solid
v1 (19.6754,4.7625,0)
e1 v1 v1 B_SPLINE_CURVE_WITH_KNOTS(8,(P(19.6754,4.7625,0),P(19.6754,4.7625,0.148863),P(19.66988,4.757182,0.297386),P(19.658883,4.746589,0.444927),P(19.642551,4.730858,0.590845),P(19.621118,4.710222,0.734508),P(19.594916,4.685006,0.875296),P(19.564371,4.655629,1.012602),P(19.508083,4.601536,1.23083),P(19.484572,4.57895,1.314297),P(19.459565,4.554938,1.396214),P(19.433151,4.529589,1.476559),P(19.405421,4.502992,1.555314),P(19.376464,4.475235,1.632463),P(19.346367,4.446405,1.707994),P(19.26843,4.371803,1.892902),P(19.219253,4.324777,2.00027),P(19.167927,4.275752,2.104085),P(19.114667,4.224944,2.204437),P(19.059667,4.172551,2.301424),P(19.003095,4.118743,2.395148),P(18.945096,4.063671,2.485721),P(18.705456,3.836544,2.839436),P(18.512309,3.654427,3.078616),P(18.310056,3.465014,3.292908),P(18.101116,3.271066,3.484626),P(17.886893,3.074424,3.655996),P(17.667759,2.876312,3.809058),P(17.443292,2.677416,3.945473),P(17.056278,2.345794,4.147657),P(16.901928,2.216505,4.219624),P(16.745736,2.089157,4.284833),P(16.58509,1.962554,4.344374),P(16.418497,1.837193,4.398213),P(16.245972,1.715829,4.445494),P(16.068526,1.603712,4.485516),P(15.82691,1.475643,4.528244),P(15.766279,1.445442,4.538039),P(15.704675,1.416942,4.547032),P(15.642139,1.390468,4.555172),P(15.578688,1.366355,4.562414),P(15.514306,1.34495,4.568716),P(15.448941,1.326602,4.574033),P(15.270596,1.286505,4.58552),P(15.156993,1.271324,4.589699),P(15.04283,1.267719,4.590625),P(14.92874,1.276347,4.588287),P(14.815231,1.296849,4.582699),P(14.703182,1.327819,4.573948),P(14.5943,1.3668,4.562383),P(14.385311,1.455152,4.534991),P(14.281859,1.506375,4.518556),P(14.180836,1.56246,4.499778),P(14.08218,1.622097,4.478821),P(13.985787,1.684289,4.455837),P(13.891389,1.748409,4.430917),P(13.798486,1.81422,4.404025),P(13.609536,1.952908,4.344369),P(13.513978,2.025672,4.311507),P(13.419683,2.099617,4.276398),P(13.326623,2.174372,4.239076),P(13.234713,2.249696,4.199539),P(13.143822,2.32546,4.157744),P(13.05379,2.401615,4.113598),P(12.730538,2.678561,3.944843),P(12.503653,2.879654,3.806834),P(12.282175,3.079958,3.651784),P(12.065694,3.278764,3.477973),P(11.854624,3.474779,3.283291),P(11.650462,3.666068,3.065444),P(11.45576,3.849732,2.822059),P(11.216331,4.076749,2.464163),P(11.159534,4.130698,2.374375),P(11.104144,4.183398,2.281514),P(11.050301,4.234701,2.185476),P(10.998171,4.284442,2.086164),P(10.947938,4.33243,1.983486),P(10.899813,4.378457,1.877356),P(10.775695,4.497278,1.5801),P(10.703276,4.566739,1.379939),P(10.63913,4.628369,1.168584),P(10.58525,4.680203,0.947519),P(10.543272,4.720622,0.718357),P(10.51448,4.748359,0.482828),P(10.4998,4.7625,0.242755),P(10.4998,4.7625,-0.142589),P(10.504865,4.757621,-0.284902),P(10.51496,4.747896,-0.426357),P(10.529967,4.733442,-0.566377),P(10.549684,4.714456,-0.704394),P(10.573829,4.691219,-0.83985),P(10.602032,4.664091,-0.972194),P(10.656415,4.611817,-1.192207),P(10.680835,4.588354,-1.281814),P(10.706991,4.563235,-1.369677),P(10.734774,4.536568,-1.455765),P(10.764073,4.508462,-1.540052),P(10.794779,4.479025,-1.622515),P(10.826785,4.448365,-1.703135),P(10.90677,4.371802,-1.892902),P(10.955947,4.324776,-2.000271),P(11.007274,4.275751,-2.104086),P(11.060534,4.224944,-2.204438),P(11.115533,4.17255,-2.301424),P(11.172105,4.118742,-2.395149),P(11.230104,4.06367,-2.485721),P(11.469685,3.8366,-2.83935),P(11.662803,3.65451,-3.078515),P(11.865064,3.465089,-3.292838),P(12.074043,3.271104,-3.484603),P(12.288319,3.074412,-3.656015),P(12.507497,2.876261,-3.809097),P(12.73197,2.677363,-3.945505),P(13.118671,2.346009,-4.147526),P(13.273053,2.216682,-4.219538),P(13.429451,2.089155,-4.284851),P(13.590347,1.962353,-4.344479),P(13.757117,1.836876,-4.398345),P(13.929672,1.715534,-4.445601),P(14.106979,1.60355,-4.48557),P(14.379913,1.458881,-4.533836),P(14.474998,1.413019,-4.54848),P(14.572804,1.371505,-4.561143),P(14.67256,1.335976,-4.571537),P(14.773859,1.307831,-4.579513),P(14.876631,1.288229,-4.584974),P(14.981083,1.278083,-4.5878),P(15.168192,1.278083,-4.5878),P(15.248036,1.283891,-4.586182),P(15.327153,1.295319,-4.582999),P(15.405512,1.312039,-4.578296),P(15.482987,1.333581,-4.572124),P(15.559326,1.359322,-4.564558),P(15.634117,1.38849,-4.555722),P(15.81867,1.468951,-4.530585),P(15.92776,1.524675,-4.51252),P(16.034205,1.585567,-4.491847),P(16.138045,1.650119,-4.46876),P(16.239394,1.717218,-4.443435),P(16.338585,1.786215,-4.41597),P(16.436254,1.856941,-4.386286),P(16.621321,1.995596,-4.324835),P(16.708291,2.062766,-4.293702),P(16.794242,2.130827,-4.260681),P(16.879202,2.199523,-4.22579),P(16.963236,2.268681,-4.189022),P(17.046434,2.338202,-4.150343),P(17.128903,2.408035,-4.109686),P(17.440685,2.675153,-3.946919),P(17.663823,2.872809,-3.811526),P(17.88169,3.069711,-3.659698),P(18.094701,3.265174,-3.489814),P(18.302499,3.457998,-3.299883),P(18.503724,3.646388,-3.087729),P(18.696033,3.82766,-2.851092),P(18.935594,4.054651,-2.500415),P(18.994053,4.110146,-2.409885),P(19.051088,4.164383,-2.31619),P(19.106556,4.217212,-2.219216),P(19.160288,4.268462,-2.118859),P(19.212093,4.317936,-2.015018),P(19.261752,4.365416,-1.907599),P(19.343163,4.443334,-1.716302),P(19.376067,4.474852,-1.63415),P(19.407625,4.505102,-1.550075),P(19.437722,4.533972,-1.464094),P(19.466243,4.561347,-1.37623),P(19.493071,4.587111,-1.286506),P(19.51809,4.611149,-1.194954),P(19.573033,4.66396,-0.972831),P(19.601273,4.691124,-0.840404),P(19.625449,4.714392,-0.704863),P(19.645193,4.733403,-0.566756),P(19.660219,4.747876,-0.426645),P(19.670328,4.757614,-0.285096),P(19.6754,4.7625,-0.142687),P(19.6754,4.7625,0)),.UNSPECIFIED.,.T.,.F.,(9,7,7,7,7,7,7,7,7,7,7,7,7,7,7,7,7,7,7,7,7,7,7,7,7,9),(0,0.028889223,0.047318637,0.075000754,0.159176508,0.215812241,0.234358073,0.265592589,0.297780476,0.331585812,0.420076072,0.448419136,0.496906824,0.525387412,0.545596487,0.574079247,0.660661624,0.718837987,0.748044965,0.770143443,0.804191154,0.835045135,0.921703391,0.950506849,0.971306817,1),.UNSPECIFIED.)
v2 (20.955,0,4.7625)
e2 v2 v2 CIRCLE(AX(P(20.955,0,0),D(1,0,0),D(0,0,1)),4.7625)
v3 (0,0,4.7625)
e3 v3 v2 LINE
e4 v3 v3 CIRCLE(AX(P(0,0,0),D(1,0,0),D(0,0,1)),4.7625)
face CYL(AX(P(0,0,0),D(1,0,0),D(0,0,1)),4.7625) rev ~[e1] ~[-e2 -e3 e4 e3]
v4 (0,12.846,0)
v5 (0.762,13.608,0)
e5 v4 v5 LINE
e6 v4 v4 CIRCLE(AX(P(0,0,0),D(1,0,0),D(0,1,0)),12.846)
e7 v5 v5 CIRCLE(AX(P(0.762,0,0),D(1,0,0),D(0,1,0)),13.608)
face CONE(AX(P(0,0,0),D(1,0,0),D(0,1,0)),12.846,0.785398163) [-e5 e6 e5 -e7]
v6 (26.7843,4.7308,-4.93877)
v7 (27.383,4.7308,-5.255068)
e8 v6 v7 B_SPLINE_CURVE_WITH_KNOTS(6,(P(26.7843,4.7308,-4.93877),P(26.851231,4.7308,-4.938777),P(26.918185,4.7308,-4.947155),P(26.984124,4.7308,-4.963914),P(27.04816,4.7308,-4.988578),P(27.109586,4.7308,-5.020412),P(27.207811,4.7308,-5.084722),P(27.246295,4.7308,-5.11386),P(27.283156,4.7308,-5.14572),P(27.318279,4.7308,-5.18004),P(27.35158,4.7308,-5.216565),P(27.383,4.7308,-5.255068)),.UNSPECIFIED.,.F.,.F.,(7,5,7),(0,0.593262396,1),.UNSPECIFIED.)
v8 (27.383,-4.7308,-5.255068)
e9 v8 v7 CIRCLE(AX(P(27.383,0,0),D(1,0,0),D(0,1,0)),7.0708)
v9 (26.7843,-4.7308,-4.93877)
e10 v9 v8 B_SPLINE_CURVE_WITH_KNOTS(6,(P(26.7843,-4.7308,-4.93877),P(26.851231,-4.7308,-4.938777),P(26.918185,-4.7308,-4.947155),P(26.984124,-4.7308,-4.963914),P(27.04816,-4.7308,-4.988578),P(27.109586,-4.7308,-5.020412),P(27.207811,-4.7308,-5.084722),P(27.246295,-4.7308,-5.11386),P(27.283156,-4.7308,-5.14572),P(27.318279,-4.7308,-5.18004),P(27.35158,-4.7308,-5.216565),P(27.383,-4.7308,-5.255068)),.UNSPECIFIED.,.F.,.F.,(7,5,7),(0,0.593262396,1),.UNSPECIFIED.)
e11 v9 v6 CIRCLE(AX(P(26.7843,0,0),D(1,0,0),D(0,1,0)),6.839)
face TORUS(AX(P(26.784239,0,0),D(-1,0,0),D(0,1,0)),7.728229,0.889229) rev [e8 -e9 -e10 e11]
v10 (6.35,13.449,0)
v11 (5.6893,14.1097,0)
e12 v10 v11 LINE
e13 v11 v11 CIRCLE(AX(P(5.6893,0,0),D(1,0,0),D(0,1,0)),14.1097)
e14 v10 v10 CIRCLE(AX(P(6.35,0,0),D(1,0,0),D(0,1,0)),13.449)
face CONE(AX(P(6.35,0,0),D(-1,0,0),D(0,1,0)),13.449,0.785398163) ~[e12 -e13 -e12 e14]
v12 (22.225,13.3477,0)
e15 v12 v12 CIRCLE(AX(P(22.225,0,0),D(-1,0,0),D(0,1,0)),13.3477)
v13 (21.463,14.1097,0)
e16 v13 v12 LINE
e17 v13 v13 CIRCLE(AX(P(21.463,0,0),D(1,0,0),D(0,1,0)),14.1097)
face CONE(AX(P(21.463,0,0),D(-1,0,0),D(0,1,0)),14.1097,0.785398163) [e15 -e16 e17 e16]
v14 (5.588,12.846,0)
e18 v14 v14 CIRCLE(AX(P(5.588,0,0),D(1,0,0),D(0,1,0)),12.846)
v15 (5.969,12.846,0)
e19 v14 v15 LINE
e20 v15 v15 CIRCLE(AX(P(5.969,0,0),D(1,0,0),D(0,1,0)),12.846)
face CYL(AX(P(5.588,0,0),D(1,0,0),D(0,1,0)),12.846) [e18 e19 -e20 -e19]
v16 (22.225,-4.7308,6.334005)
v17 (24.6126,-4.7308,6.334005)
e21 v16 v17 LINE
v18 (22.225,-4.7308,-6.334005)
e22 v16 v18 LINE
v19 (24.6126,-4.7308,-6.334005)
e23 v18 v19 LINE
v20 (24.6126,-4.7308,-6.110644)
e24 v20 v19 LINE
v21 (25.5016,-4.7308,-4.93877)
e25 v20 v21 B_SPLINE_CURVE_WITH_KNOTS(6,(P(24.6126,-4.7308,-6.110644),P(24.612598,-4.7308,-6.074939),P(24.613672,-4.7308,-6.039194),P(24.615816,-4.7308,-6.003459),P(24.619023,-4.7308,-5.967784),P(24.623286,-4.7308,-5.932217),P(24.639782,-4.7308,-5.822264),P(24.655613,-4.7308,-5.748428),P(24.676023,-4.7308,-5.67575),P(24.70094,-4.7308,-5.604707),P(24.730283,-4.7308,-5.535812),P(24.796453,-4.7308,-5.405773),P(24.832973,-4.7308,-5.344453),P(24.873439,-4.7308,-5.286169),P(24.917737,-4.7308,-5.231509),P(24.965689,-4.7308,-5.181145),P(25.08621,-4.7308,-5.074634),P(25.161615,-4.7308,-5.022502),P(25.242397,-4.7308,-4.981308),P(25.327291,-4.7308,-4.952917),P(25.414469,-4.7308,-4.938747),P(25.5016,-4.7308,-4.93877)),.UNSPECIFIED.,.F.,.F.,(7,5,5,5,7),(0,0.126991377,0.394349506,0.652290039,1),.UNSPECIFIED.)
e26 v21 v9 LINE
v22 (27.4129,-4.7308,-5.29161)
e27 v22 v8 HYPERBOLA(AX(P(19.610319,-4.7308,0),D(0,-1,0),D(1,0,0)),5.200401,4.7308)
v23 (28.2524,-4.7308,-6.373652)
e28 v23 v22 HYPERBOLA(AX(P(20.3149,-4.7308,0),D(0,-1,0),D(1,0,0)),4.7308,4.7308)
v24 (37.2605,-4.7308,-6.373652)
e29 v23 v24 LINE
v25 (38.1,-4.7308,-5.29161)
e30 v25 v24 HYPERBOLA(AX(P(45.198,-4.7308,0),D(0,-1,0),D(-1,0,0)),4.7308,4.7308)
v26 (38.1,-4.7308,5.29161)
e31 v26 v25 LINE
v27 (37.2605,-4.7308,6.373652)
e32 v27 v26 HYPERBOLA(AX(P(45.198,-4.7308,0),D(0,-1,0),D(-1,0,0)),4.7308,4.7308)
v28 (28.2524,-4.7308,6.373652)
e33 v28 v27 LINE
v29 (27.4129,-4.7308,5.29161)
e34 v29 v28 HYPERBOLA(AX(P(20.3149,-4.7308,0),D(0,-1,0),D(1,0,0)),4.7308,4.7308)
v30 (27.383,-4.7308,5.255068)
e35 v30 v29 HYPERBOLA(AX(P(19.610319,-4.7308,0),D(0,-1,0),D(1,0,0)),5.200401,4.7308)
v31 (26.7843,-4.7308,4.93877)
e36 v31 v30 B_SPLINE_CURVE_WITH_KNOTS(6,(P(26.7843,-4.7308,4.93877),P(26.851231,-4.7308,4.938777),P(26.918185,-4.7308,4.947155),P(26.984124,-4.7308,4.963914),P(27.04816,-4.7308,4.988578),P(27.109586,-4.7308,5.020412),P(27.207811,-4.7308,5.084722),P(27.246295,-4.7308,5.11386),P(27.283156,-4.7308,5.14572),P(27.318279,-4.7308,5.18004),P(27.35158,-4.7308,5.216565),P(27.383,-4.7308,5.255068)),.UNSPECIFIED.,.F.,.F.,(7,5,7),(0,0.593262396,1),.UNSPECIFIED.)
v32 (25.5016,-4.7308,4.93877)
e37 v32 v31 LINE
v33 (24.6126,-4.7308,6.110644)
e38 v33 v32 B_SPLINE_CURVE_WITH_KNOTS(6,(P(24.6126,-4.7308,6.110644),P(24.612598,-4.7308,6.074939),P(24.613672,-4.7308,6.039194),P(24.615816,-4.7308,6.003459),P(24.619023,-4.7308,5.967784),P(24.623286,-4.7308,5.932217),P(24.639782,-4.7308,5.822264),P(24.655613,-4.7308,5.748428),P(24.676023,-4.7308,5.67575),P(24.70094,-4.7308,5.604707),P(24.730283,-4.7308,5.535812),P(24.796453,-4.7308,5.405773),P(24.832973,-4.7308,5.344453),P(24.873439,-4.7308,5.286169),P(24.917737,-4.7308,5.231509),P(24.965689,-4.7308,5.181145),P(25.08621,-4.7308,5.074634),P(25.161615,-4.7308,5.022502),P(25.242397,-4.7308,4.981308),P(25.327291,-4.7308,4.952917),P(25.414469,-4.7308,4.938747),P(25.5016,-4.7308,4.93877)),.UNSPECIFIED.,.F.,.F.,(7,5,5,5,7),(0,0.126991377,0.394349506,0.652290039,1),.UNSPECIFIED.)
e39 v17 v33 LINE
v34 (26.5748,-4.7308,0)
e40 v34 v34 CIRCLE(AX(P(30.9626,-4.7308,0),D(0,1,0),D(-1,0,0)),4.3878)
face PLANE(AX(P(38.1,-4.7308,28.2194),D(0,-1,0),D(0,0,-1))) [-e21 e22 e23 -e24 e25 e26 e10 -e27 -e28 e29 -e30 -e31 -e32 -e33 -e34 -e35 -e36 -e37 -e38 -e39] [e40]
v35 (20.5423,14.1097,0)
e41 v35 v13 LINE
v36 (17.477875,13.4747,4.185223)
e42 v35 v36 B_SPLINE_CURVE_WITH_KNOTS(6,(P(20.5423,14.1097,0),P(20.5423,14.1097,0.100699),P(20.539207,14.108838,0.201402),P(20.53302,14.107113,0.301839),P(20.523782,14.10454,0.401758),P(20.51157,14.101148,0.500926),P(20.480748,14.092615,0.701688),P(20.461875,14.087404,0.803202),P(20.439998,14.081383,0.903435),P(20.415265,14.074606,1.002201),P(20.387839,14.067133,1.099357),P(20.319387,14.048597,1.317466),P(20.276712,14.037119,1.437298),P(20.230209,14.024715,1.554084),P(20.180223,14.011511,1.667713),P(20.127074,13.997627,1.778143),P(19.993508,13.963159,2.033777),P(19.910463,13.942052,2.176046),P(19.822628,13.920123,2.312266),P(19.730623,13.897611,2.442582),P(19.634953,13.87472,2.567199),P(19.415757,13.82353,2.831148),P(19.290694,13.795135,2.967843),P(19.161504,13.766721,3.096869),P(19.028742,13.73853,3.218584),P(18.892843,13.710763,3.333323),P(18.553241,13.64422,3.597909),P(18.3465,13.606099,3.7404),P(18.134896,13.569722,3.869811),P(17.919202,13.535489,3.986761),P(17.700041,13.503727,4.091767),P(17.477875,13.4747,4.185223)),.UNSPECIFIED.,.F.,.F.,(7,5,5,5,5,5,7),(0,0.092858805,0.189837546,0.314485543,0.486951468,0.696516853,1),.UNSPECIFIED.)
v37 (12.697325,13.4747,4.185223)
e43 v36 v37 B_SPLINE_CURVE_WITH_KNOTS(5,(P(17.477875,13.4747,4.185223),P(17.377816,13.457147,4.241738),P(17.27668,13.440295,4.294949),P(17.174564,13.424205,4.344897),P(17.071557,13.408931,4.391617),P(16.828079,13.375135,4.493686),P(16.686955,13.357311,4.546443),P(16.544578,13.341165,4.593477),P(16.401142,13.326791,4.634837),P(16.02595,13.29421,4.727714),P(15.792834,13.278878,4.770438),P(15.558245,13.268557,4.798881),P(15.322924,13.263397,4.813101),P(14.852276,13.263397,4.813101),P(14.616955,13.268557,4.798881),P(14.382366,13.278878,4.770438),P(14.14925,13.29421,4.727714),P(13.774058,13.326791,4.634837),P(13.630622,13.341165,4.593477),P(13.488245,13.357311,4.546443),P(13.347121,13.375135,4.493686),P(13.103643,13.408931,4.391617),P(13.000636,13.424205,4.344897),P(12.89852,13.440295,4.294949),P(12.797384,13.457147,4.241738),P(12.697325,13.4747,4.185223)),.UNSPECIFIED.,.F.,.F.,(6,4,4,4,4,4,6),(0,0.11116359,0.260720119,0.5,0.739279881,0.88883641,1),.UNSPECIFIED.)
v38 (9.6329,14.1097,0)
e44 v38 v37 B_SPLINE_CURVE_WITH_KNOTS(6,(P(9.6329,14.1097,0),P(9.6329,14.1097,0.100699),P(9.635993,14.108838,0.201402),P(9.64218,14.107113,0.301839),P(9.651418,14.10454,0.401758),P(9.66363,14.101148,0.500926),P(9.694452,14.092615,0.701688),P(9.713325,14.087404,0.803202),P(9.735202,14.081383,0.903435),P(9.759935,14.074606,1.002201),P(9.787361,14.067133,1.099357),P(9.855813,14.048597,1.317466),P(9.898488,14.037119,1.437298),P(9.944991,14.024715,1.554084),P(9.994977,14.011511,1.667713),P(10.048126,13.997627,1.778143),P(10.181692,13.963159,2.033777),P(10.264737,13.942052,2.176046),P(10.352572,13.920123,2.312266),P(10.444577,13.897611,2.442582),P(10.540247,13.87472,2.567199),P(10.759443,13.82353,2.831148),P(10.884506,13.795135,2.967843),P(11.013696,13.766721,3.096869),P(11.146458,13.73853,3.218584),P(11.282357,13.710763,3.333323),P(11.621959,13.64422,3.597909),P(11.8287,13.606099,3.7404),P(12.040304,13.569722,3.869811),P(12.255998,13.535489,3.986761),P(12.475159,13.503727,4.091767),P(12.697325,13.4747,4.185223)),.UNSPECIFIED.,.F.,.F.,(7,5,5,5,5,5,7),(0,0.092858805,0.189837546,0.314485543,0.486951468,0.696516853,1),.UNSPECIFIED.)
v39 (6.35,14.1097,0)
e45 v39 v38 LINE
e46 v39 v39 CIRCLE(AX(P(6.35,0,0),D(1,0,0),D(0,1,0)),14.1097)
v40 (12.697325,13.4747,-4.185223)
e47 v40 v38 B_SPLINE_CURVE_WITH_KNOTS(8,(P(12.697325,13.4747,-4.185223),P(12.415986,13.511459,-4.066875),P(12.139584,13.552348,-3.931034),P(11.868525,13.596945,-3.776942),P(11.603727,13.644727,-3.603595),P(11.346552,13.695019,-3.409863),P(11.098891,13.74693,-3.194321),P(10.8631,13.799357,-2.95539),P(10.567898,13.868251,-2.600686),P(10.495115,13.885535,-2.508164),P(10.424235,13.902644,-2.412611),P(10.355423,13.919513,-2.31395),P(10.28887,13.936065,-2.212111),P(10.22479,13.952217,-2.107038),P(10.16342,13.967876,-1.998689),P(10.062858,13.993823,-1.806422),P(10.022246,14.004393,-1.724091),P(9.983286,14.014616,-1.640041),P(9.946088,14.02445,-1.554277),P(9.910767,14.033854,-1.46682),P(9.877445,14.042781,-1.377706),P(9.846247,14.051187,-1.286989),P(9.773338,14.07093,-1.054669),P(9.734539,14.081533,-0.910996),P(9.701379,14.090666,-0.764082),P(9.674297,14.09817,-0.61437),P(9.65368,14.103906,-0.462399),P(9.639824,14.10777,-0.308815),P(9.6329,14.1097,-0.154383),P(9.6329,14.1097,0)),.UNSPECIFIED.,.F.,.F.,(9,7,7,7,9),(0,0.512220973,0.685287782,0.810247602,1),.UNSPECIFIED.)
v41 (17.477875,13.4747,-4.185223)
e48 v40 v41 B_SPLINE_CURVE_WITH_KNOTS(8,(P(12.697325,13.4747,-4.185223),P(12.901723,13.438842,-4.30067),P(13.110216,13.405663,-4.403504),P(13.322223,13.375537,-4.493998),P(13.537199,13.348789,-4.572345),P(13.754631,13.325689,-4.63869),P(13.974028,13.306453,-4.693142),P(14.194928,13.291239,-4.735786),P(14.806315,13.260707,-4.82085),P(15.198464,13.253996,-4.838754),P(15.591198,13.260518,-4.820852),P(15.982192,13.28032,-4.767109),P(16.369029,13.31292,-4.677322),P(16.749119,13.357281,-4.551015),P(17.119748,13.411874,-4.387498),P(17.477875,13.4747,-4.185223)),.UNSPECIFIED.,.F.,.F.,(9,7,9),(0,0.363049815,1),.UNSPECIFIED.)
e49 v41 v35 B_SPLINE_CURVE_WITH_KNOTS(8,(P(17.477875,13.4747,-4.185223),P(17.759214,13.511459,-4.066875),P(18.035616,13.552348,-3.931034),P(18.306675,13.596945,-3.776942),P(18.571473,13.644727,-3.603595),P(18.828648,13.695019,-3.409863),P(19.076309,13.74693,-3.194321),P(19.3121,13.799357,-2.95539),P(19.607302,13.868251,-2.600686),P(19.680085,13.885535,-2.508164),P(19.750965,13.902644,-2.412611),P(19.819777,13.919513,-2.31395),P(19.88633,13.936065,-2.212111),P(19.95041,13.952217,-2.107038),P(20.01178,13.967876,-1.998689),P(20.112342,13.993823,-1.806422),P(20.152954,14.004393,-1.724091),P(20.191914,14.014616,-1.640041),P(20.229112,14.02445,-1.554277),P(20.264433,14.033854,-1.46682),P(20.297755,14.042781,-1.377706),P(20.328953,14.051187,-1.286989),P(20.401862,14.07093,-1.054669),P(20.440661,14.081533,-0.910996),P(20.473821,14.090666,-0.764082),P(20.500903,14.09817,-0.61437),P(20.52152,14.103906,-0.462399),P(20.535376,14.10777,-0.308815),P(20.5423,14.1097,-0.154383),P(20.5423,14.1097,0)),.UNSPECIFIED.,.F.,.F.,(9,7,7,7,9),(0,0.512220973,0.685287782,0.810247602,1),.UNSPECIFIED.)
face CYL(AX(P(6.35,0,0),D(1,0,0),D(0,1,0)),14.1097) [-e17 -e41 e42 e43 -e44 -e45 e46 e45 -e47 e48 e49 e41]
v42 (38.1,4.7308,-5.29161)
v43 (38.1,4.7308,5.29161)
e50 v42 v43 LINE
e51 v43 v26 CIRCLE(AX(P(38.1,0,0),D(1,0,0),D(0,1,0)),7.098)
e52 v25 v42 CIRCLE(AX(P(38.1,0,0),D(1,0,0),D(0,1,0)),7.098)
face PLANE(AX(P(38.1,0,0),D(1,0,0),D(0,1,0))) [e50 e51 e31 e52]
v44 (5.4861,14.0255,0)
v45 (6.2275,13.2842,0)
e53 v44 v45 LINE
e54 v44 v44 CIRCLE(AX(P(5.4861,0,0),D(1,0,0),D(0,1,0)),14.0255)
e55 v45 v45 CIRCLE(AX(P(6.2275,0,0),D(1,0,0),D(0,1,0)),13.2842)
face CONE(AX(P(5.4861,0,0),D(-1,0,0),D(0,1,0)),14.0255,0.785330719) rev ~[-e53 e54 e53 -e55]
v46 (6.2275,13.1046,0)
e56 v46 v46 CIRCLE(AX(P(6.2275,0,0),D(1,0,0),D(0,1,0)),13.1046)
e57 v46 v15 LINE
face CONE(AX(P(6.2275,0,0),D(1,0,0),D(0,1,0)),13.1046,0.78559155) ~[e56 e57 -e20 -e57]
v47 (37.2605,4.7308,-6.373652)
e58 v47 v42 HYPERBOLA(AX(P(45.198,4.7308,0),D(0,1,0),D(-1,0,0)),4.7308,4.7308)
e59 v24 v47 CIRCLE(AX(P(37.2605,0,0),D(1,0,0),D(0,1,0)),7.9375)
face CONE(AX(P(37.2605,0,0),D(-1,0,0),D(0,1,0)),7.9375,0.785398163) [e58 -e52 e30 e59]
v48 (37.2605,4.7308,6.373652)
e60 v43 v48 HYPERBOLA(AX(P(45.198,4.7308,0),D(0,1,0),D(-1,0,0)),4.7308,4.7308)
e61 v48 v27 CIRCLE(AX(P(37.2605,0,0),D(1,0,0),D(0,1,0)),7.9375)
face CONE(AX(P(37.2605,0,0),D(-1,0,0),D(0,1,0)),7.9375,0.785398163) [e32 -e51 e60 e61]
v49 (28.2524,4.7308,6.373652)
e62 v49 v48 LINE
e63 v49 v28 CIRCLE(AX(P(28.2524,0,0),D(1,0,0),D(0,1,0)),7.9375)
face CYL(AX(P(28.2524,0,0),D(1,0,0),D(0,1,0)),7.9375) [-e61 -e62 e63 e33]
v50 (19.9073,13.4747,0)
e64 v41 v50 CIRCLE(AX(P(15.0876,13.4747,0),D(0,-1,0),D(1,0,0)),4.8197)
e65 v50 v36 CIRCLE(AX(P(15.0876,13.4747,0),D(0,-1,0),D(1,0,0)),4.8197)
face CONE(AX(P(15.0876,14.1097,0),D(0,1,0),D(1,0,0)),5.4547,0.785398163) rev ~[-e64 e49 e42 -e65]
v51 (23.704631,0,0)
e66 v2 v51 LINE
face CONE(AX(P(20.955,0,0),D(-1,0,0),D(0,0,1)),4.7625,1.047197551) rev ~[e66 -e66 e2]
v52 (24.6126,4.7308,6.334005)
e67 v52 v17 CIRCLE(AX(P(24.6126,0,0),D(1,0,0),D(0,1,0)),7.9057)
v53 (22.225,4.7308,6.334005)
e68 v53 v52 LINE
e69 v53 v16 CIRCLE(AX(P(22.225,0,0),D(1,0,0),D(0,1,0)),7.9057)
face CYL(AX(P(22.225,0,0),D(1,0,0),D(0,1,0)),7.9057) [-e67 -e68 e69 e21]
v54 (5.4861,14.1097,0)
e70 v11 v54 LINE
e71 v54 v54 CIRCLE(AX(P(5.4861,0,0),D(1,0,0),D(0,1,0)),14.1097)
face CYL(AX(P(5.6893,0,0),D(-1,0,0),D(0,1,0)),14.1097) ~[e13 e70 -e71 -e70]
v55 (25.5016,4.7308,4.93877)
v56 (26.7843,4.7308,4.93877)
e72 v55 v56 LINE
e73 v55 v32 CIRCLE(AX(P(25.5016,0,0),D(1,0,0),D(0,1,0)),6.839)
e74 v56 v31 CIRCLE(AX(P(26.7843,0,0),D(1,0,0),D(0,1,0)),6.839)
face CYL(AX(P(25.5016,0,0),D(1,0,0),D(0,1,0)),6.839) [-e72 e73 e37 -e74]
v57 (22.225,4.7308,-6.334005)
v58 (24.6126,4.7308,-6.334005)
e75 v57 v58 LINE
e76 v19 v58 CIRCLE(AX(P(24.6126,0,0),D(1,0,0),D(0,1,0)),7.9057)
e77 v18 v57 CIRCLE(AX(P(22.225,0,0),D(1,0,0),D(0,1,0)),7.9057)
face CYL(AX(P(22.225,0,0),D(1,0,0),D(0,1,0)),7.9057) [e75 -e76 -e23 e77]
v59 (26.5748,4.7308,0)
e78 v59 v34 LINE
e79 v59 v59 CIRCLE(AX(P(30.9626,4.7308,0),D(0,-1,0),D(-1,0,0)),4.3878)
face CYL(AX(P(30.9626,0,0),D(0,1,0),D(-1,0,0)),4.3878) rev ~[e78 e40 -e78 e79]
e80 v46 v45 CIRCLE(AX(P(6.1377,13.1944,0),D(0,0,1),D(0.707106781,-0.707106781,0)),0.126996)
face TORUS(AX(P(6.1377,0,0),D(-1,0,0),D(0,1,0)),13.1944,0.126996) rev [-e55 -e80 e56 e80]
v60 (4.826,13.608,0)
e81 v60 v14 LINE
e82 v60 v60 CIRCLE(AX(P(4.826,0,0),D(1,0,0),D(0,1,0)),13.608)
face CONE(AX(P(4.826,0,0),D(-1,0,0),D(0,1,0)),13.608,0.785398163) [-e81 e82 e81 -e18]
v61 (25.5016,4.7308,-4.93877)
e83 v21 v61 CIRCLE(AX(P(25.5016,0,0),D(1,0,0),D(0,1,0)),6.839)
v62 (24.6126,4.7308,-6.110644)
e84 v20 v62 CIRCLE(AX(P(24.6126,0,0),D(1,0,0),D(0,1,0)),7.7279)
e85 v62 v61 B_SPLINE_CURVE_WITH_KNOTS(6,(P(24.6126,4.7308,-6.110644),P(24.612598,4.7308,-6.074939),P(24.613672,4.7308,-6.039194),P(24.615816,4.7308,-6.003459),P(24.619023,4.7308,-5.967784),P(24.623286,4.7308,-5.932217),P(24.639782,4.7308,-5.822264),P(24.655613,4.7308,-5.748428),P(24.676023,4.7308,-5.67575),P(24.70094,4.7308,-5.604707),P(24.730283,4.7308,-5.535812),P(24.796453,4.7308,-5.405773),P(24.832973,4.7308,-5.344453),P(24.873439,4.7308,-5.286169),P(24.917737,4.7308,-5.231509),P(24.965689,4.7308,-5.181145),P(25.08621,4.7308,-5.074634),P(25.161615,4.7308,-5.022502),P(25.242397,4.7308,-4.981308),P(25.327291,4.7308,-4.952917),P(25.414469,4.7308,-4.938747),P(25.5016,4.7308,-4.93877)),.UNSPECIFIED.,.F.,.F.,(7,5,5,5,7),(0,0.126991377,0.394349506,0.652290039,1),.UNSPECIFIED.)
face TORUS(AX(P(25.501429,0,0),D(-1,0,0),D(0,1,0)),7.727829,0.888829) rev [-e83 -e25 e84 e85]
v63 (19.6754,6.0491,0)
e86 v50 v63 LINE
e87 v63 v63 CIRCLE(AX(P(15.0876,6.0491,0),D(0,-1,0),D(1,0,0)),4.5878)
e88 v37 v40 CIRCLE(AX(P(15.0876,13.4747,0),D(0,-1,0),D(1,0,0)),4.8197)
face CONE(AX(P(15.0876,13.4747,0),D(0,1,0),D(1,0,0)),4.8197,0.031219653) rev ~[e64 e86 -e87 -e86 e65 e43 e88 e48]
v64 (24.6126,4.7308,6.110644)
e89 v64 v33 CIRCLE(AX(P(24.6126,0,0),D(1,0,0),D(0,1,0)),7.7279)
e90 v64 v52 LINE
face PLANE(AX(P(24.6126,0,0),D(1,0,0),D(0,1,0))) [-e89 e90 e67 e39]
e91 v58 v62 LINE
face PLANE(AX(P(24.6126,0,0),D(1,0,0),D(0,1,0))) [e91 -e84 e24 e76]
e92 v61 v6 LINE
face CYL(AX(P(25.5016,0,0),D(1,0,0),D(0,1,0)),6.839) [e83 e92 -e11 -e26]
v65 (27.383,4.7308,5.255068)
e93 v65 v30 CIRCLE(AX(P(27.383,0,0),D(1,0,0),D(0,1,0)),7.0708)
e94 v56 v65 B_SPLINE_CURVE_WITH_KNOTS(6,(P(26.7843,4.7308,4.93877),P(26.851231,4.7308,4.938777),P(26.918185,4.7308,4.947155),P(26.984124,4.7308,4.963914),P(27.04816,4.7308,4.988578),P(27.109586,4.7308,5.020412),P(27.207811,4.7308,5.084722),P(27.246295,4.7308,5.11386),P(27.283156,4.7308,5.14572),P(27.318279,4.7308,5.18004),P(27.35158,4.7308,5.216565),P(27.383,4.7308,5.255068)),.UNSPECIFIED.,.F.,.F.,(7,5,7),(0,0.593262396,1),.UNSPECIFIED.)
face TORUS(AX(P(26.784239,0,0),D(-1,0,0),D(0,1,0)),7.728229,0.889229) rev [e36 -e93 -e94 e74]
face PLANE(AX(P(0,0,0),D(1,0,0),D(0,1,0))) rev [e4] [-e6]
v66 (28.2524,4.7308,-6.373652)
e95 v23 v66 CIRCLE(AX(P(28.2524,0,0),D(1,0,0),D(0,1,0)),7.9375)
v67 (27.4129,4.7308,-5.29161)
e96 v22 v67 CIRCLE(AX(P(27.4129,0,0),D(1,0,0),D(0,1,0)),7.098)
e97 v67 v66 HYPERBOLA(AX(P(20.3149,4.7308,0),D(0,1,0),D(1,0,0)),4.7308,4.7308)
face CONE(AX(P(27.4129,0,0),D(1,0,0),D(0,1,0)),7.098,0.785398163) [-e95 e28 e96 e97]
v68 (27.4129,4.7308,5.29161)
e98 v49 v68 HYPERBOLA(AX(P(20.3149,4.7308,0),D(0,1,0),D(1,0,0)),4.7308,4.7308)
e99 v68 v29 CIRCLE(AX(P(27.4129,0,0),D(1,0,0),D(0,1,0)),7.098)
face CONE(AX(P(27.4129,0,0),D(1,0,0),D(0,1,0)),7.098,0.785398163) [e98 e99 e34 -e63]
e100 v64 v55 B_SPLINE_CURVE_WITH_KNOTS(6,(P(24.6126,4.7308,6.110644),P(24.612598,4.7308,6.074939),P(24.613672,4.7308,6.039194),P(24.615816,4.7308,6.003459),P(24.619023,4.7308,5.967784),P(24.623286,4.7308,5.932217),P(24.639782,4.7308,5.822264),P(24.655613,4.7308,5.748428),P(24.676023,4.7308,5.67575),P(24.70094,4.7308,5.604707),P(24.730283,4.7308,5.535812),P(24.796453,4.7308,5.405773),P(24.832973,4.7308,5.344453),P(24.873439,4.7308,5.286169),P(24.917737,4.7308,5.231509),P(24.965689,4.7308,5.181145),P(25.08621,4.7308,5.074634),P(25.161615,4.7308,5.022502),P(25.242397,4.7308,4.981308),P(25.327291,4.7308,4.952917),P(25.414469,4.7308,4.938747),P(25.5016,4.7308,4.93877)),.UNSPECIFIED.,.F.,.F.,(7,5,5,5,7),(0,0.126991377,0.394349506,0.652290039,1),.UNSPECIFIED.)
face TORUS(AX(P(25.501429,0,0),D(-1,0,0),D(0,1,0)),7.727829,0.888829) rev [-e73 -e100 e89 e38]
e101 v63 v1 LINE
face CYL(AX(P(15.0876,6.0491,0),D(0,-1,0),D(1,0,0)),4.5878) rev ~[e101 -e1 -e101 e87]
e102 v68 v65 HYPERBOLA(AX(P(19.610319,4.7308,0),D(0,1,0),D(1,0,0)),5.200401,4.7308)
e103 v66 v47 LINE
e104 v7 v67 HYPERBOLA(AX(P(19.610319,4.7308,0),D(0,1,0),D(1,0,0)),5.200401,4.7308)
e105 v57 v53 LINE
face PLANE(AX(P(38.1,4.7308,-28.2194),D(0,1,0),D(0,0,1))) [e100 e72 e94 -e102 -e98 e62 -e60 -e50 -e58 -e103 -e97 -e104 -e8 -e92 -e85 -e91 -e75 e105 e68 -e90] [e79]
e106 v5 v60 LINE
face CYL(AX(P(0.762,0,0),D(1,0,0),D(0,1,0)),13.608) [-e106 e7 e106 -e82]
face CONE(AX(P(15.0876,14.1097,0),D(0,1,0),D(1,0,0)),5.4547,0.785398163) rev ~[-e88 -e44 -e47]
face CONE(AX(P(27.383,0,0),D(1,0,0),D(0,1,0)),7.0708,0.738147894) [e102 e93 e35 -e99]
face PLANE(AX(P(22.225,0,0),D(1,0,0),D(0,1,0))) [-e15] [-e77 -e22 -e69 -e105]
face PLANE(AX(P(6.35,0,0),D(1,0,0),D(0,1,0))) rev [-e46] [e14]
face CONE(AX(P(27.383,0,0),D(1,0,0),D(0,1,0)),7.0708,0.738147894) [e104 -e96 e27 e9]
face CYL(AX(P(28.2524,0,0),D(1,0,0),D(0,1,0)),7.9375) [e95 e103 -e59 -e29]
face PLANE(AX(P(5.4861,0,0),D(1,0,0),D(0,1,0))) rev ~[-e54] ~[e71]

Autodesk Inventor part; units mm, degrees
sketch "Sketch_18" plane through (0, 0, 0) normal (0, 0, 1) x (1, 0, 0)
  line L0 (22.225, 0) -> (0, 0)
  line L1 (0, 0) -> (0, 12.846)
  line L2 (0, 12.846) -> (0.762, 13.608)
  line L3 (0.762, 13.608) -> (4.826, 13.608)
  line L4 (4.826, 13.608) -> (5.588, 12.846)
  line L5 (5.588, 12.846) -> (6.35, 12.846)
  line L6 (6.35, 12.846) -> (6.35, 14.1097)
  line L7 (6.35, 14.1097) -> (21.463, 14.1097)
  line L8 (21.463, 14.1097) -> (22.225, 13.3477)
  line L9 (22.225, 13.3477) -> (22.225, 0)
  line L10 (22.225, 0) -> (0, 0)
revolve "Revolution1" add sketch "Sketch_18" angle 360 about axis through (22.225, 0, 0) along (1, 0, 0)
sketch "Sketch_15" plane through (0, 0, 0) normal (0, 0, 1) x (1, 0, 0)
  line L0 (38.1, 0) -> (22.225, 0)
  line L1 (22.225, 0) -> (22.225, 7.9057)
  line L2 (22.225, 7.9057) -> (24.6126, 7.9057)
  line L3 (24.6126, 7.9057) -> (24.6126, 7.7279)
  arc A0 (24.6126, 7.7279) -> (25.5016, 6.839) centre (25.5016, 7.7279) ccw
  line L4 (25.5016, 6.839) -> (26.7843, 6.839)
  arc A1 (26.7843, 6.839) -> (27.383, 7.0708) centre (26.7843, 7.7279) ccw
  line L5 (27.383, 7.0708) -> (27.4129, 7.098)
  line L6 (27.4129, 7.098) -> (28.2524, 7.9375)
  line L7 (28.2524, 7.9375) -> (37.2605, 7.9375)
  line L8 (37.2605, 7.9375) -> (38.1, 7.098)
  line L9 (38.1, 7.098) -> (38.1, 0)
  line L10 (38.1, 0) -> (22.225, 0)
revolve "Revolution2" add sketch "Sketch_15" angle 360 about axis through (38.1, 0, 0) along (1, 0, 0)
thread "Thread1" size "5/8-18 UNF" class "2A" standard "ANSI Unified Screw Threads" full length
sketch "Sketch_70" plane through (38.1, 0, 0) normal (1, 0, 0) x (0, 0, -1)
  line L0 (-56.4388, -28.2194) -> (56.4388, -28.2194)
  line L1 (56.4388, -28.2194) -> (56.4388, 28.2194)
  line L2 (56.4388, 28.2194) -> (-56.4388, 28.2194)
  line L3 (-56.4388, 28.2194) -> (-56.4388, -28.2194)
  line L4 (-28.2194, -4.7308) -> (28.2194, -4.7308)
  line L5 (28.2194, -4.7308) -> (28.2194, 4.7308)
  line L6 (28.2194, 4.7308) -> (-28.2194, 4.7308)
  line L7 (-28.2194, 4.7308) -> (-28.2194, -4.7308)
extrude "Extrusion1" cut sketch "Sketch_70" against normal blind 15.875
sketch "Sketch4" plane through (0, 0, 0) normal (-1, 0, 0) x (0, 0, 1)
  point P0 (0, 0)
hole "Hole1" at (0, 0, 0) direction (1, 0, 0) diameter 9.525 depth 20.955 tip angle 120
sketch "Sketch_47" plane through (0, 0, 0) normal (0, 0, 1) x (1, 0, 0)
  line L0 (15.0876, 0) -> (15.0876, 14.1097)
  line L1 (15.0876, 14.1097) -> (20.5423, 14.1097)
  line L2 (20.5423, 14.1097) -> (19.9073, 13.4747)
  line L3 (19.9073, 13.4747) -> (19.6754, 6.0491)
  line L4 (19.6754, 6.0491) -> (19.6754, 0)
  line L5 (19.6754, 0) -> (15.0876, 0)
  line L6 (15.0876, 0) -> (15.0876, 14.1097)
revolve "Revolution3" cut sketch "Sketch_47" angle 360 about axis through (15.0876, 0, 0) along (0, -1, 0)
thread "Thread2" size "1/8" designation "1/8 - 27 NPT" standard "NPT" length 6.3023
sketch "Sketch_24" plane through (0, 0, 0) normal (0, 0, 1) x (1, 0, 0)
  line L0 (6.35, 0) -> (5.588, 0)
  line L1 (5.4861, 14.1097) -> (5.4861, 14.0255)
  line L2 (5.4861, 14.0255) -> (6.2275, 13.2842)
  arc A0 (6.2275, 13.1046) -> (6.2275, 13.2842) centre (6.1377, 13.1944) ccw
  line L3 (6.2275, 13.1046) -> (5.969, 12.846)
  line L4 (5.969, 12.846) -> (5.588, 12.846)
  line L5 (5.588, 12.846) -> (5.588, 12.5921)
  line L6 (5.588, 12.5921) -> (6.35, 12.5921)
  line L7 (6.35, 12.5921) -> (6.35, 13.449)
  line L8 (6.35, 13.449) -> (5.6893, 14.1097)
  line L9 (5.6893, 14.1097) -> (5.4861, 14.1097)
revolve "Revolution4" add sketch "Sketch_24" angle 360 about axis through (6.35, 0, 0) along (1, 0, 0)
sketch "Sketch_43" plane through (0, 0, 0) normal (0, 1, 0) x (-1, 0, 0)
  circle A0 centre (-30.9626, 0) radius 4.3878
extrude "Extrusion2" cut sketch "Sketch_43" along normal mid plane 14.1922
ref_plane "1_XY" through (24.6126, 0, 0) normal (1, 0, 0) x (0, 0, -1)
ref_plane "1_YZ" through (24.6126, 0, 0) normal (0, 0, -1) x (0, 1, 0)
ref_plane "1_ZX" through (24.6126, 0, 0) normal (0, 1, 0) x (1, 0, 0)
ref_plane "c1_XY" through (22.225, 7.9057, 0) normal (0, 0, 1) x (1, 0, 0)
ref_plane "c1_YZ" through (22.225, 7.9057, 0) normal (1, 0, 0) x (0, 1, 0)
ref_plane "c1_ZX" through (22.225, 7.9057, 0) normal (0, 1, 0) x (0, 0, 1)
ref_plane "c2_XY" through (22.225, -7.9057, 0) normal (0, 0, 1) x (1, 0, 0)
ref_plane "c2_YZ" through (22.225, -7.9057, 0) normal (1, 0, 0) x (0, 1, 0)
ref_plane "c2_ZX" through (22.225, -7.9057, 0) normal (0, 1, 0) x (0, 0, 1)
ref_plane "cc1_XY" through (22.225, 0, 0) normal (0, 0, 1) x (1, 0, 0)
ref_plane "cc1_YZ" through (22.225, 0, 0) normal (1, 0, 0) x (0, 1, 0)
ref_plane "cc1_ZX" through (22.225, 0, 0) normal (0, 1, 0) x (0, 0, 1)
ref_plane "cc2_XY" through (24.6126, 0, 0) normal (0, 0, 1) x (1, 0, 0)
ref_plane "cc2_YZ" through (24.6126, 0, 0) normal (1, 0, 0) x (0, 1, 0)
ref_plane "cc2_ZX" through (24.6126, 0, 0) normal (0, 1, 0) x (0, 0, 1)
ref_plane "lovra1_XY" through (33.3248, 0, 0) normal (1, 0, 0) x (0, 0, -1)
ref_plane "lovra1_YZ" through (33.3248, 0, 0) normal (0, 0, -1) x (0, 1, 0)
ref_plane "lovra1_ZX" through (33.3248, 0, 0) normal (0, 1, 0) x (1, 0, 0)
ref_plane "lovra2_XY" through (33.3248, 11.049, 0) normal (1, 0, 0) x (0, 0, -1)
ref_plane "lovra2_YZ" through (33.3248, 11.049, 0) normal (0, 0, -1) x (0, 1, 0)
ref_plane "lovra2_ZX" through (33.3248, 11.049, 0) normal (0, 1, 0) x (1, 0, 0)
ref_plane "lovra21_XY" through (0, 0, 5.2705) normal (1, 0, 0) x (0, 0, -1)
ref_plane "lovra21_YZ" through (0, 0, 5.2705) normal (0, 0, -1) x (0, 1, 0)
ref_plane "lovra21_ZX" through (0, 0, 5.2705) normal (0, 1, 0) x (1, 0, 0)
ref_plane "lovra22_XY" through (0, 0, -5.2705) normal (1, 0, 0) x (0, 0, -1)
ref_plane "lovra22_YZ" through (0, 0, -5.2705) normal (0, 0, -1) x (0, 1, 0)
ref_plane "lovra22_ZX" through (0, 0, -5.2705) normal (0, 1, 0) x (1, 0, 0)
ref_plane "lovra3_XY" through (33.3248, -11.049, 0) normal (1, 0, 0) x (0, 0, -1)
ref_plane "lovra3_YZ" through (33.3248, -11.049, 0) normal (0, 0, -1) x (0, 1, 0)
ref_plane "lovra3_ZX" through (33.3248, -11.049, 0) normal (0, 1, 0) x (1, 0, 0)
ref_plane "olen_XY" through (30.9626, 0, 0) normal (1, 0, 0) x (0, 0, -1)
ref_plane "olen_YZ" through (30.9626, 0, 0) normal (0, 0, -1) x (0, 1, 0)
ref_plane "olen_ZX" through (30.9626, 0, 0) normal (0, 1, 0) x (1, 0, 0)
ref_plane "p1_XY" through (38.1, 0, 4.7308) normal (1, 0, 0) x (0, 0, -1)
ref_plane "p1_YZ" through (38.1, 0, 4.7308) normal (0, 0, -1) x (0, 1, 0)
ref_plane "p1_ZX" through (38.1, 0, 4.7308) normal (0, 1, 0) x (1, 0, 0)
ref_plane "p2_XY" through (38.1, 0, -4.7308) normal (1, 0, 0) x (0, 0, -1)
ref_plane "p2_YZ" through (38.1, 0, -4.7308) normal (0, 0, -1) x (0, 1, 0)
ref_plane "p2_ZX" through (38.1, 0, -4.7308) normal (0, 1, 0) x (1, 0, 0)
ref_plane "port_XY" through (15.0876, 0, 0) normal (0, 0, 1) x (1, 0, 0)
ref_plane "port_YZ" through (15.0876, 0, 0) normal (1, 0, 0) x (0, 1, 0)
ref_plane "port_ZX" through (15.0876, 0, 0) normal (0, 1, 0) x (0, 0, 1)
ref_plane "port2_XY" through (38.1, 0, 0) normal (1, 0, 0) x (0, 0, -1)
ref_plane "port2_YZ" through (38.1, 0, 0) normal (0, 0, -1) x (0, 1, 0)
ref_plane "port2_ZX" through (38.1, 0, 0) normal (0, 1, 0) x (1, 0, 0)
ref_plane "thd1_XY" through (38.1, 0, 7.9375) normal (1, 0, 0) x (0, 0, -1)
ref_plane "thd1_YZ" through (38.1, 0, 7.9375) normal (0, 0, -1) x (0, 1, 0)
ref_plane "thd1_ZX" through (38.1, 0, 7.9375) normal (0, 1, 0) x (1, 0, 0)
ref_plane "thd2_XY" through (38.1, 0, -7.9375) normal (1, 0, 0) x (0, 0, -1)
ref_plane "thd2_YZ" through (38.1, 0, -7.9375) normal (0, 0, -1) x (0, 1, 0)
ref_plane "thd2_ZX" through (38.1, 0, -7.9375) normal (0, 1, 0) x (1, 0, 0)
ref_plane "to_mounting_bracket_XY" through (22.225, 0, 0) normal (1, 0, 0) x (0, 0, -1)
ref_plane "to_mounting_bracket_YZ" through (22.225, 0, 0) normal (0, 0, -1) x (0, 1, 0)
ref_plane "to_mounting_bracket_ZX" through (22.225, 0, 0) normal (0, 1, 0) x (1, 0, 0)
ref_plane "to_nut_XY" through (24.6126, 0, 0) normal (1, 0, 0) x (0, 0, -1)
ref_plane "to_nut_YZ" through (24.6126, 0, 0) normal (0, 0, -1) x (0, 1, 0)
ref_plane "to_nut_ZX" through (24.6126, 0, 0) normal (0, 1, 0) x (1, 0, 0)
ref_plane "to_pin_XY" through (30.9626, 0, 0) normal (0, 1, 0) x (1, 0, 0)
ref_plane "to_pin_YZ" through (30.9626, 0, 0) normal (1, 0, 0) x (0, 0, -1)
ref_plane "to_pin_ZX" through (30.9626, 0, 0) normal (0, 0, -1) x (0, 1, 0)
ref_plane "to_pin_1_XY" through (30.9626, 0, 0) normal (0, 0, 1) x (1, 0, 0)
ref_plane "to_pin_1_YZ" through (30.9626, 0, 0) normal (1, 0, 0) x (0, 1, 0)
ref_plane "to_pin_1_ZX" through (30.9626, 0, 0) normal (0, 1, 0) x (0, 0, 1)
ref_plane "to_pin_r_XY" through (30.9626, 0, 0) normal (0, 0, 1) x (1, 0, 0)
ref_plane "to_pin_r_YZ" through (30.9626, 0, 0) normal (1, 0, 0) x (0, 1, 0)
ref_plane "to_pin_r_ZX" through (30.9626, 0, 0) normal (0, 1, 0) x (0, 0, 1)
ref_plane "to_screw_XY" through (15.0876, 10.2743, -7.0612) normal (0, 1, 0) x (1, 0, 0)
ref_plane "to_screw_YZ" through (15.0876, 10.2743, -7.0612) normal (1, 0, 0) x (0, 0, -1)
ref_plane "to_screw_ZX" through (15.0876, 10.2743, -7.0612) normal (0, 0, -1) x (0, 1, 0)
ref_plane "to_tube_XY" through (5.588, 0, 0) normal (1, 0, 0) x (0, 0, -1)
ref_plane "to_tube_YZ" through (5.588, 0, 0) normal (0, 0, -1) x (0, 1, 0)
ref_plane "to_tube_ZX" through (5.588, 0, 0) normal (0, 1, 0) x (1, 0, 0)
properties part number "09P0Y000_rear_head"
